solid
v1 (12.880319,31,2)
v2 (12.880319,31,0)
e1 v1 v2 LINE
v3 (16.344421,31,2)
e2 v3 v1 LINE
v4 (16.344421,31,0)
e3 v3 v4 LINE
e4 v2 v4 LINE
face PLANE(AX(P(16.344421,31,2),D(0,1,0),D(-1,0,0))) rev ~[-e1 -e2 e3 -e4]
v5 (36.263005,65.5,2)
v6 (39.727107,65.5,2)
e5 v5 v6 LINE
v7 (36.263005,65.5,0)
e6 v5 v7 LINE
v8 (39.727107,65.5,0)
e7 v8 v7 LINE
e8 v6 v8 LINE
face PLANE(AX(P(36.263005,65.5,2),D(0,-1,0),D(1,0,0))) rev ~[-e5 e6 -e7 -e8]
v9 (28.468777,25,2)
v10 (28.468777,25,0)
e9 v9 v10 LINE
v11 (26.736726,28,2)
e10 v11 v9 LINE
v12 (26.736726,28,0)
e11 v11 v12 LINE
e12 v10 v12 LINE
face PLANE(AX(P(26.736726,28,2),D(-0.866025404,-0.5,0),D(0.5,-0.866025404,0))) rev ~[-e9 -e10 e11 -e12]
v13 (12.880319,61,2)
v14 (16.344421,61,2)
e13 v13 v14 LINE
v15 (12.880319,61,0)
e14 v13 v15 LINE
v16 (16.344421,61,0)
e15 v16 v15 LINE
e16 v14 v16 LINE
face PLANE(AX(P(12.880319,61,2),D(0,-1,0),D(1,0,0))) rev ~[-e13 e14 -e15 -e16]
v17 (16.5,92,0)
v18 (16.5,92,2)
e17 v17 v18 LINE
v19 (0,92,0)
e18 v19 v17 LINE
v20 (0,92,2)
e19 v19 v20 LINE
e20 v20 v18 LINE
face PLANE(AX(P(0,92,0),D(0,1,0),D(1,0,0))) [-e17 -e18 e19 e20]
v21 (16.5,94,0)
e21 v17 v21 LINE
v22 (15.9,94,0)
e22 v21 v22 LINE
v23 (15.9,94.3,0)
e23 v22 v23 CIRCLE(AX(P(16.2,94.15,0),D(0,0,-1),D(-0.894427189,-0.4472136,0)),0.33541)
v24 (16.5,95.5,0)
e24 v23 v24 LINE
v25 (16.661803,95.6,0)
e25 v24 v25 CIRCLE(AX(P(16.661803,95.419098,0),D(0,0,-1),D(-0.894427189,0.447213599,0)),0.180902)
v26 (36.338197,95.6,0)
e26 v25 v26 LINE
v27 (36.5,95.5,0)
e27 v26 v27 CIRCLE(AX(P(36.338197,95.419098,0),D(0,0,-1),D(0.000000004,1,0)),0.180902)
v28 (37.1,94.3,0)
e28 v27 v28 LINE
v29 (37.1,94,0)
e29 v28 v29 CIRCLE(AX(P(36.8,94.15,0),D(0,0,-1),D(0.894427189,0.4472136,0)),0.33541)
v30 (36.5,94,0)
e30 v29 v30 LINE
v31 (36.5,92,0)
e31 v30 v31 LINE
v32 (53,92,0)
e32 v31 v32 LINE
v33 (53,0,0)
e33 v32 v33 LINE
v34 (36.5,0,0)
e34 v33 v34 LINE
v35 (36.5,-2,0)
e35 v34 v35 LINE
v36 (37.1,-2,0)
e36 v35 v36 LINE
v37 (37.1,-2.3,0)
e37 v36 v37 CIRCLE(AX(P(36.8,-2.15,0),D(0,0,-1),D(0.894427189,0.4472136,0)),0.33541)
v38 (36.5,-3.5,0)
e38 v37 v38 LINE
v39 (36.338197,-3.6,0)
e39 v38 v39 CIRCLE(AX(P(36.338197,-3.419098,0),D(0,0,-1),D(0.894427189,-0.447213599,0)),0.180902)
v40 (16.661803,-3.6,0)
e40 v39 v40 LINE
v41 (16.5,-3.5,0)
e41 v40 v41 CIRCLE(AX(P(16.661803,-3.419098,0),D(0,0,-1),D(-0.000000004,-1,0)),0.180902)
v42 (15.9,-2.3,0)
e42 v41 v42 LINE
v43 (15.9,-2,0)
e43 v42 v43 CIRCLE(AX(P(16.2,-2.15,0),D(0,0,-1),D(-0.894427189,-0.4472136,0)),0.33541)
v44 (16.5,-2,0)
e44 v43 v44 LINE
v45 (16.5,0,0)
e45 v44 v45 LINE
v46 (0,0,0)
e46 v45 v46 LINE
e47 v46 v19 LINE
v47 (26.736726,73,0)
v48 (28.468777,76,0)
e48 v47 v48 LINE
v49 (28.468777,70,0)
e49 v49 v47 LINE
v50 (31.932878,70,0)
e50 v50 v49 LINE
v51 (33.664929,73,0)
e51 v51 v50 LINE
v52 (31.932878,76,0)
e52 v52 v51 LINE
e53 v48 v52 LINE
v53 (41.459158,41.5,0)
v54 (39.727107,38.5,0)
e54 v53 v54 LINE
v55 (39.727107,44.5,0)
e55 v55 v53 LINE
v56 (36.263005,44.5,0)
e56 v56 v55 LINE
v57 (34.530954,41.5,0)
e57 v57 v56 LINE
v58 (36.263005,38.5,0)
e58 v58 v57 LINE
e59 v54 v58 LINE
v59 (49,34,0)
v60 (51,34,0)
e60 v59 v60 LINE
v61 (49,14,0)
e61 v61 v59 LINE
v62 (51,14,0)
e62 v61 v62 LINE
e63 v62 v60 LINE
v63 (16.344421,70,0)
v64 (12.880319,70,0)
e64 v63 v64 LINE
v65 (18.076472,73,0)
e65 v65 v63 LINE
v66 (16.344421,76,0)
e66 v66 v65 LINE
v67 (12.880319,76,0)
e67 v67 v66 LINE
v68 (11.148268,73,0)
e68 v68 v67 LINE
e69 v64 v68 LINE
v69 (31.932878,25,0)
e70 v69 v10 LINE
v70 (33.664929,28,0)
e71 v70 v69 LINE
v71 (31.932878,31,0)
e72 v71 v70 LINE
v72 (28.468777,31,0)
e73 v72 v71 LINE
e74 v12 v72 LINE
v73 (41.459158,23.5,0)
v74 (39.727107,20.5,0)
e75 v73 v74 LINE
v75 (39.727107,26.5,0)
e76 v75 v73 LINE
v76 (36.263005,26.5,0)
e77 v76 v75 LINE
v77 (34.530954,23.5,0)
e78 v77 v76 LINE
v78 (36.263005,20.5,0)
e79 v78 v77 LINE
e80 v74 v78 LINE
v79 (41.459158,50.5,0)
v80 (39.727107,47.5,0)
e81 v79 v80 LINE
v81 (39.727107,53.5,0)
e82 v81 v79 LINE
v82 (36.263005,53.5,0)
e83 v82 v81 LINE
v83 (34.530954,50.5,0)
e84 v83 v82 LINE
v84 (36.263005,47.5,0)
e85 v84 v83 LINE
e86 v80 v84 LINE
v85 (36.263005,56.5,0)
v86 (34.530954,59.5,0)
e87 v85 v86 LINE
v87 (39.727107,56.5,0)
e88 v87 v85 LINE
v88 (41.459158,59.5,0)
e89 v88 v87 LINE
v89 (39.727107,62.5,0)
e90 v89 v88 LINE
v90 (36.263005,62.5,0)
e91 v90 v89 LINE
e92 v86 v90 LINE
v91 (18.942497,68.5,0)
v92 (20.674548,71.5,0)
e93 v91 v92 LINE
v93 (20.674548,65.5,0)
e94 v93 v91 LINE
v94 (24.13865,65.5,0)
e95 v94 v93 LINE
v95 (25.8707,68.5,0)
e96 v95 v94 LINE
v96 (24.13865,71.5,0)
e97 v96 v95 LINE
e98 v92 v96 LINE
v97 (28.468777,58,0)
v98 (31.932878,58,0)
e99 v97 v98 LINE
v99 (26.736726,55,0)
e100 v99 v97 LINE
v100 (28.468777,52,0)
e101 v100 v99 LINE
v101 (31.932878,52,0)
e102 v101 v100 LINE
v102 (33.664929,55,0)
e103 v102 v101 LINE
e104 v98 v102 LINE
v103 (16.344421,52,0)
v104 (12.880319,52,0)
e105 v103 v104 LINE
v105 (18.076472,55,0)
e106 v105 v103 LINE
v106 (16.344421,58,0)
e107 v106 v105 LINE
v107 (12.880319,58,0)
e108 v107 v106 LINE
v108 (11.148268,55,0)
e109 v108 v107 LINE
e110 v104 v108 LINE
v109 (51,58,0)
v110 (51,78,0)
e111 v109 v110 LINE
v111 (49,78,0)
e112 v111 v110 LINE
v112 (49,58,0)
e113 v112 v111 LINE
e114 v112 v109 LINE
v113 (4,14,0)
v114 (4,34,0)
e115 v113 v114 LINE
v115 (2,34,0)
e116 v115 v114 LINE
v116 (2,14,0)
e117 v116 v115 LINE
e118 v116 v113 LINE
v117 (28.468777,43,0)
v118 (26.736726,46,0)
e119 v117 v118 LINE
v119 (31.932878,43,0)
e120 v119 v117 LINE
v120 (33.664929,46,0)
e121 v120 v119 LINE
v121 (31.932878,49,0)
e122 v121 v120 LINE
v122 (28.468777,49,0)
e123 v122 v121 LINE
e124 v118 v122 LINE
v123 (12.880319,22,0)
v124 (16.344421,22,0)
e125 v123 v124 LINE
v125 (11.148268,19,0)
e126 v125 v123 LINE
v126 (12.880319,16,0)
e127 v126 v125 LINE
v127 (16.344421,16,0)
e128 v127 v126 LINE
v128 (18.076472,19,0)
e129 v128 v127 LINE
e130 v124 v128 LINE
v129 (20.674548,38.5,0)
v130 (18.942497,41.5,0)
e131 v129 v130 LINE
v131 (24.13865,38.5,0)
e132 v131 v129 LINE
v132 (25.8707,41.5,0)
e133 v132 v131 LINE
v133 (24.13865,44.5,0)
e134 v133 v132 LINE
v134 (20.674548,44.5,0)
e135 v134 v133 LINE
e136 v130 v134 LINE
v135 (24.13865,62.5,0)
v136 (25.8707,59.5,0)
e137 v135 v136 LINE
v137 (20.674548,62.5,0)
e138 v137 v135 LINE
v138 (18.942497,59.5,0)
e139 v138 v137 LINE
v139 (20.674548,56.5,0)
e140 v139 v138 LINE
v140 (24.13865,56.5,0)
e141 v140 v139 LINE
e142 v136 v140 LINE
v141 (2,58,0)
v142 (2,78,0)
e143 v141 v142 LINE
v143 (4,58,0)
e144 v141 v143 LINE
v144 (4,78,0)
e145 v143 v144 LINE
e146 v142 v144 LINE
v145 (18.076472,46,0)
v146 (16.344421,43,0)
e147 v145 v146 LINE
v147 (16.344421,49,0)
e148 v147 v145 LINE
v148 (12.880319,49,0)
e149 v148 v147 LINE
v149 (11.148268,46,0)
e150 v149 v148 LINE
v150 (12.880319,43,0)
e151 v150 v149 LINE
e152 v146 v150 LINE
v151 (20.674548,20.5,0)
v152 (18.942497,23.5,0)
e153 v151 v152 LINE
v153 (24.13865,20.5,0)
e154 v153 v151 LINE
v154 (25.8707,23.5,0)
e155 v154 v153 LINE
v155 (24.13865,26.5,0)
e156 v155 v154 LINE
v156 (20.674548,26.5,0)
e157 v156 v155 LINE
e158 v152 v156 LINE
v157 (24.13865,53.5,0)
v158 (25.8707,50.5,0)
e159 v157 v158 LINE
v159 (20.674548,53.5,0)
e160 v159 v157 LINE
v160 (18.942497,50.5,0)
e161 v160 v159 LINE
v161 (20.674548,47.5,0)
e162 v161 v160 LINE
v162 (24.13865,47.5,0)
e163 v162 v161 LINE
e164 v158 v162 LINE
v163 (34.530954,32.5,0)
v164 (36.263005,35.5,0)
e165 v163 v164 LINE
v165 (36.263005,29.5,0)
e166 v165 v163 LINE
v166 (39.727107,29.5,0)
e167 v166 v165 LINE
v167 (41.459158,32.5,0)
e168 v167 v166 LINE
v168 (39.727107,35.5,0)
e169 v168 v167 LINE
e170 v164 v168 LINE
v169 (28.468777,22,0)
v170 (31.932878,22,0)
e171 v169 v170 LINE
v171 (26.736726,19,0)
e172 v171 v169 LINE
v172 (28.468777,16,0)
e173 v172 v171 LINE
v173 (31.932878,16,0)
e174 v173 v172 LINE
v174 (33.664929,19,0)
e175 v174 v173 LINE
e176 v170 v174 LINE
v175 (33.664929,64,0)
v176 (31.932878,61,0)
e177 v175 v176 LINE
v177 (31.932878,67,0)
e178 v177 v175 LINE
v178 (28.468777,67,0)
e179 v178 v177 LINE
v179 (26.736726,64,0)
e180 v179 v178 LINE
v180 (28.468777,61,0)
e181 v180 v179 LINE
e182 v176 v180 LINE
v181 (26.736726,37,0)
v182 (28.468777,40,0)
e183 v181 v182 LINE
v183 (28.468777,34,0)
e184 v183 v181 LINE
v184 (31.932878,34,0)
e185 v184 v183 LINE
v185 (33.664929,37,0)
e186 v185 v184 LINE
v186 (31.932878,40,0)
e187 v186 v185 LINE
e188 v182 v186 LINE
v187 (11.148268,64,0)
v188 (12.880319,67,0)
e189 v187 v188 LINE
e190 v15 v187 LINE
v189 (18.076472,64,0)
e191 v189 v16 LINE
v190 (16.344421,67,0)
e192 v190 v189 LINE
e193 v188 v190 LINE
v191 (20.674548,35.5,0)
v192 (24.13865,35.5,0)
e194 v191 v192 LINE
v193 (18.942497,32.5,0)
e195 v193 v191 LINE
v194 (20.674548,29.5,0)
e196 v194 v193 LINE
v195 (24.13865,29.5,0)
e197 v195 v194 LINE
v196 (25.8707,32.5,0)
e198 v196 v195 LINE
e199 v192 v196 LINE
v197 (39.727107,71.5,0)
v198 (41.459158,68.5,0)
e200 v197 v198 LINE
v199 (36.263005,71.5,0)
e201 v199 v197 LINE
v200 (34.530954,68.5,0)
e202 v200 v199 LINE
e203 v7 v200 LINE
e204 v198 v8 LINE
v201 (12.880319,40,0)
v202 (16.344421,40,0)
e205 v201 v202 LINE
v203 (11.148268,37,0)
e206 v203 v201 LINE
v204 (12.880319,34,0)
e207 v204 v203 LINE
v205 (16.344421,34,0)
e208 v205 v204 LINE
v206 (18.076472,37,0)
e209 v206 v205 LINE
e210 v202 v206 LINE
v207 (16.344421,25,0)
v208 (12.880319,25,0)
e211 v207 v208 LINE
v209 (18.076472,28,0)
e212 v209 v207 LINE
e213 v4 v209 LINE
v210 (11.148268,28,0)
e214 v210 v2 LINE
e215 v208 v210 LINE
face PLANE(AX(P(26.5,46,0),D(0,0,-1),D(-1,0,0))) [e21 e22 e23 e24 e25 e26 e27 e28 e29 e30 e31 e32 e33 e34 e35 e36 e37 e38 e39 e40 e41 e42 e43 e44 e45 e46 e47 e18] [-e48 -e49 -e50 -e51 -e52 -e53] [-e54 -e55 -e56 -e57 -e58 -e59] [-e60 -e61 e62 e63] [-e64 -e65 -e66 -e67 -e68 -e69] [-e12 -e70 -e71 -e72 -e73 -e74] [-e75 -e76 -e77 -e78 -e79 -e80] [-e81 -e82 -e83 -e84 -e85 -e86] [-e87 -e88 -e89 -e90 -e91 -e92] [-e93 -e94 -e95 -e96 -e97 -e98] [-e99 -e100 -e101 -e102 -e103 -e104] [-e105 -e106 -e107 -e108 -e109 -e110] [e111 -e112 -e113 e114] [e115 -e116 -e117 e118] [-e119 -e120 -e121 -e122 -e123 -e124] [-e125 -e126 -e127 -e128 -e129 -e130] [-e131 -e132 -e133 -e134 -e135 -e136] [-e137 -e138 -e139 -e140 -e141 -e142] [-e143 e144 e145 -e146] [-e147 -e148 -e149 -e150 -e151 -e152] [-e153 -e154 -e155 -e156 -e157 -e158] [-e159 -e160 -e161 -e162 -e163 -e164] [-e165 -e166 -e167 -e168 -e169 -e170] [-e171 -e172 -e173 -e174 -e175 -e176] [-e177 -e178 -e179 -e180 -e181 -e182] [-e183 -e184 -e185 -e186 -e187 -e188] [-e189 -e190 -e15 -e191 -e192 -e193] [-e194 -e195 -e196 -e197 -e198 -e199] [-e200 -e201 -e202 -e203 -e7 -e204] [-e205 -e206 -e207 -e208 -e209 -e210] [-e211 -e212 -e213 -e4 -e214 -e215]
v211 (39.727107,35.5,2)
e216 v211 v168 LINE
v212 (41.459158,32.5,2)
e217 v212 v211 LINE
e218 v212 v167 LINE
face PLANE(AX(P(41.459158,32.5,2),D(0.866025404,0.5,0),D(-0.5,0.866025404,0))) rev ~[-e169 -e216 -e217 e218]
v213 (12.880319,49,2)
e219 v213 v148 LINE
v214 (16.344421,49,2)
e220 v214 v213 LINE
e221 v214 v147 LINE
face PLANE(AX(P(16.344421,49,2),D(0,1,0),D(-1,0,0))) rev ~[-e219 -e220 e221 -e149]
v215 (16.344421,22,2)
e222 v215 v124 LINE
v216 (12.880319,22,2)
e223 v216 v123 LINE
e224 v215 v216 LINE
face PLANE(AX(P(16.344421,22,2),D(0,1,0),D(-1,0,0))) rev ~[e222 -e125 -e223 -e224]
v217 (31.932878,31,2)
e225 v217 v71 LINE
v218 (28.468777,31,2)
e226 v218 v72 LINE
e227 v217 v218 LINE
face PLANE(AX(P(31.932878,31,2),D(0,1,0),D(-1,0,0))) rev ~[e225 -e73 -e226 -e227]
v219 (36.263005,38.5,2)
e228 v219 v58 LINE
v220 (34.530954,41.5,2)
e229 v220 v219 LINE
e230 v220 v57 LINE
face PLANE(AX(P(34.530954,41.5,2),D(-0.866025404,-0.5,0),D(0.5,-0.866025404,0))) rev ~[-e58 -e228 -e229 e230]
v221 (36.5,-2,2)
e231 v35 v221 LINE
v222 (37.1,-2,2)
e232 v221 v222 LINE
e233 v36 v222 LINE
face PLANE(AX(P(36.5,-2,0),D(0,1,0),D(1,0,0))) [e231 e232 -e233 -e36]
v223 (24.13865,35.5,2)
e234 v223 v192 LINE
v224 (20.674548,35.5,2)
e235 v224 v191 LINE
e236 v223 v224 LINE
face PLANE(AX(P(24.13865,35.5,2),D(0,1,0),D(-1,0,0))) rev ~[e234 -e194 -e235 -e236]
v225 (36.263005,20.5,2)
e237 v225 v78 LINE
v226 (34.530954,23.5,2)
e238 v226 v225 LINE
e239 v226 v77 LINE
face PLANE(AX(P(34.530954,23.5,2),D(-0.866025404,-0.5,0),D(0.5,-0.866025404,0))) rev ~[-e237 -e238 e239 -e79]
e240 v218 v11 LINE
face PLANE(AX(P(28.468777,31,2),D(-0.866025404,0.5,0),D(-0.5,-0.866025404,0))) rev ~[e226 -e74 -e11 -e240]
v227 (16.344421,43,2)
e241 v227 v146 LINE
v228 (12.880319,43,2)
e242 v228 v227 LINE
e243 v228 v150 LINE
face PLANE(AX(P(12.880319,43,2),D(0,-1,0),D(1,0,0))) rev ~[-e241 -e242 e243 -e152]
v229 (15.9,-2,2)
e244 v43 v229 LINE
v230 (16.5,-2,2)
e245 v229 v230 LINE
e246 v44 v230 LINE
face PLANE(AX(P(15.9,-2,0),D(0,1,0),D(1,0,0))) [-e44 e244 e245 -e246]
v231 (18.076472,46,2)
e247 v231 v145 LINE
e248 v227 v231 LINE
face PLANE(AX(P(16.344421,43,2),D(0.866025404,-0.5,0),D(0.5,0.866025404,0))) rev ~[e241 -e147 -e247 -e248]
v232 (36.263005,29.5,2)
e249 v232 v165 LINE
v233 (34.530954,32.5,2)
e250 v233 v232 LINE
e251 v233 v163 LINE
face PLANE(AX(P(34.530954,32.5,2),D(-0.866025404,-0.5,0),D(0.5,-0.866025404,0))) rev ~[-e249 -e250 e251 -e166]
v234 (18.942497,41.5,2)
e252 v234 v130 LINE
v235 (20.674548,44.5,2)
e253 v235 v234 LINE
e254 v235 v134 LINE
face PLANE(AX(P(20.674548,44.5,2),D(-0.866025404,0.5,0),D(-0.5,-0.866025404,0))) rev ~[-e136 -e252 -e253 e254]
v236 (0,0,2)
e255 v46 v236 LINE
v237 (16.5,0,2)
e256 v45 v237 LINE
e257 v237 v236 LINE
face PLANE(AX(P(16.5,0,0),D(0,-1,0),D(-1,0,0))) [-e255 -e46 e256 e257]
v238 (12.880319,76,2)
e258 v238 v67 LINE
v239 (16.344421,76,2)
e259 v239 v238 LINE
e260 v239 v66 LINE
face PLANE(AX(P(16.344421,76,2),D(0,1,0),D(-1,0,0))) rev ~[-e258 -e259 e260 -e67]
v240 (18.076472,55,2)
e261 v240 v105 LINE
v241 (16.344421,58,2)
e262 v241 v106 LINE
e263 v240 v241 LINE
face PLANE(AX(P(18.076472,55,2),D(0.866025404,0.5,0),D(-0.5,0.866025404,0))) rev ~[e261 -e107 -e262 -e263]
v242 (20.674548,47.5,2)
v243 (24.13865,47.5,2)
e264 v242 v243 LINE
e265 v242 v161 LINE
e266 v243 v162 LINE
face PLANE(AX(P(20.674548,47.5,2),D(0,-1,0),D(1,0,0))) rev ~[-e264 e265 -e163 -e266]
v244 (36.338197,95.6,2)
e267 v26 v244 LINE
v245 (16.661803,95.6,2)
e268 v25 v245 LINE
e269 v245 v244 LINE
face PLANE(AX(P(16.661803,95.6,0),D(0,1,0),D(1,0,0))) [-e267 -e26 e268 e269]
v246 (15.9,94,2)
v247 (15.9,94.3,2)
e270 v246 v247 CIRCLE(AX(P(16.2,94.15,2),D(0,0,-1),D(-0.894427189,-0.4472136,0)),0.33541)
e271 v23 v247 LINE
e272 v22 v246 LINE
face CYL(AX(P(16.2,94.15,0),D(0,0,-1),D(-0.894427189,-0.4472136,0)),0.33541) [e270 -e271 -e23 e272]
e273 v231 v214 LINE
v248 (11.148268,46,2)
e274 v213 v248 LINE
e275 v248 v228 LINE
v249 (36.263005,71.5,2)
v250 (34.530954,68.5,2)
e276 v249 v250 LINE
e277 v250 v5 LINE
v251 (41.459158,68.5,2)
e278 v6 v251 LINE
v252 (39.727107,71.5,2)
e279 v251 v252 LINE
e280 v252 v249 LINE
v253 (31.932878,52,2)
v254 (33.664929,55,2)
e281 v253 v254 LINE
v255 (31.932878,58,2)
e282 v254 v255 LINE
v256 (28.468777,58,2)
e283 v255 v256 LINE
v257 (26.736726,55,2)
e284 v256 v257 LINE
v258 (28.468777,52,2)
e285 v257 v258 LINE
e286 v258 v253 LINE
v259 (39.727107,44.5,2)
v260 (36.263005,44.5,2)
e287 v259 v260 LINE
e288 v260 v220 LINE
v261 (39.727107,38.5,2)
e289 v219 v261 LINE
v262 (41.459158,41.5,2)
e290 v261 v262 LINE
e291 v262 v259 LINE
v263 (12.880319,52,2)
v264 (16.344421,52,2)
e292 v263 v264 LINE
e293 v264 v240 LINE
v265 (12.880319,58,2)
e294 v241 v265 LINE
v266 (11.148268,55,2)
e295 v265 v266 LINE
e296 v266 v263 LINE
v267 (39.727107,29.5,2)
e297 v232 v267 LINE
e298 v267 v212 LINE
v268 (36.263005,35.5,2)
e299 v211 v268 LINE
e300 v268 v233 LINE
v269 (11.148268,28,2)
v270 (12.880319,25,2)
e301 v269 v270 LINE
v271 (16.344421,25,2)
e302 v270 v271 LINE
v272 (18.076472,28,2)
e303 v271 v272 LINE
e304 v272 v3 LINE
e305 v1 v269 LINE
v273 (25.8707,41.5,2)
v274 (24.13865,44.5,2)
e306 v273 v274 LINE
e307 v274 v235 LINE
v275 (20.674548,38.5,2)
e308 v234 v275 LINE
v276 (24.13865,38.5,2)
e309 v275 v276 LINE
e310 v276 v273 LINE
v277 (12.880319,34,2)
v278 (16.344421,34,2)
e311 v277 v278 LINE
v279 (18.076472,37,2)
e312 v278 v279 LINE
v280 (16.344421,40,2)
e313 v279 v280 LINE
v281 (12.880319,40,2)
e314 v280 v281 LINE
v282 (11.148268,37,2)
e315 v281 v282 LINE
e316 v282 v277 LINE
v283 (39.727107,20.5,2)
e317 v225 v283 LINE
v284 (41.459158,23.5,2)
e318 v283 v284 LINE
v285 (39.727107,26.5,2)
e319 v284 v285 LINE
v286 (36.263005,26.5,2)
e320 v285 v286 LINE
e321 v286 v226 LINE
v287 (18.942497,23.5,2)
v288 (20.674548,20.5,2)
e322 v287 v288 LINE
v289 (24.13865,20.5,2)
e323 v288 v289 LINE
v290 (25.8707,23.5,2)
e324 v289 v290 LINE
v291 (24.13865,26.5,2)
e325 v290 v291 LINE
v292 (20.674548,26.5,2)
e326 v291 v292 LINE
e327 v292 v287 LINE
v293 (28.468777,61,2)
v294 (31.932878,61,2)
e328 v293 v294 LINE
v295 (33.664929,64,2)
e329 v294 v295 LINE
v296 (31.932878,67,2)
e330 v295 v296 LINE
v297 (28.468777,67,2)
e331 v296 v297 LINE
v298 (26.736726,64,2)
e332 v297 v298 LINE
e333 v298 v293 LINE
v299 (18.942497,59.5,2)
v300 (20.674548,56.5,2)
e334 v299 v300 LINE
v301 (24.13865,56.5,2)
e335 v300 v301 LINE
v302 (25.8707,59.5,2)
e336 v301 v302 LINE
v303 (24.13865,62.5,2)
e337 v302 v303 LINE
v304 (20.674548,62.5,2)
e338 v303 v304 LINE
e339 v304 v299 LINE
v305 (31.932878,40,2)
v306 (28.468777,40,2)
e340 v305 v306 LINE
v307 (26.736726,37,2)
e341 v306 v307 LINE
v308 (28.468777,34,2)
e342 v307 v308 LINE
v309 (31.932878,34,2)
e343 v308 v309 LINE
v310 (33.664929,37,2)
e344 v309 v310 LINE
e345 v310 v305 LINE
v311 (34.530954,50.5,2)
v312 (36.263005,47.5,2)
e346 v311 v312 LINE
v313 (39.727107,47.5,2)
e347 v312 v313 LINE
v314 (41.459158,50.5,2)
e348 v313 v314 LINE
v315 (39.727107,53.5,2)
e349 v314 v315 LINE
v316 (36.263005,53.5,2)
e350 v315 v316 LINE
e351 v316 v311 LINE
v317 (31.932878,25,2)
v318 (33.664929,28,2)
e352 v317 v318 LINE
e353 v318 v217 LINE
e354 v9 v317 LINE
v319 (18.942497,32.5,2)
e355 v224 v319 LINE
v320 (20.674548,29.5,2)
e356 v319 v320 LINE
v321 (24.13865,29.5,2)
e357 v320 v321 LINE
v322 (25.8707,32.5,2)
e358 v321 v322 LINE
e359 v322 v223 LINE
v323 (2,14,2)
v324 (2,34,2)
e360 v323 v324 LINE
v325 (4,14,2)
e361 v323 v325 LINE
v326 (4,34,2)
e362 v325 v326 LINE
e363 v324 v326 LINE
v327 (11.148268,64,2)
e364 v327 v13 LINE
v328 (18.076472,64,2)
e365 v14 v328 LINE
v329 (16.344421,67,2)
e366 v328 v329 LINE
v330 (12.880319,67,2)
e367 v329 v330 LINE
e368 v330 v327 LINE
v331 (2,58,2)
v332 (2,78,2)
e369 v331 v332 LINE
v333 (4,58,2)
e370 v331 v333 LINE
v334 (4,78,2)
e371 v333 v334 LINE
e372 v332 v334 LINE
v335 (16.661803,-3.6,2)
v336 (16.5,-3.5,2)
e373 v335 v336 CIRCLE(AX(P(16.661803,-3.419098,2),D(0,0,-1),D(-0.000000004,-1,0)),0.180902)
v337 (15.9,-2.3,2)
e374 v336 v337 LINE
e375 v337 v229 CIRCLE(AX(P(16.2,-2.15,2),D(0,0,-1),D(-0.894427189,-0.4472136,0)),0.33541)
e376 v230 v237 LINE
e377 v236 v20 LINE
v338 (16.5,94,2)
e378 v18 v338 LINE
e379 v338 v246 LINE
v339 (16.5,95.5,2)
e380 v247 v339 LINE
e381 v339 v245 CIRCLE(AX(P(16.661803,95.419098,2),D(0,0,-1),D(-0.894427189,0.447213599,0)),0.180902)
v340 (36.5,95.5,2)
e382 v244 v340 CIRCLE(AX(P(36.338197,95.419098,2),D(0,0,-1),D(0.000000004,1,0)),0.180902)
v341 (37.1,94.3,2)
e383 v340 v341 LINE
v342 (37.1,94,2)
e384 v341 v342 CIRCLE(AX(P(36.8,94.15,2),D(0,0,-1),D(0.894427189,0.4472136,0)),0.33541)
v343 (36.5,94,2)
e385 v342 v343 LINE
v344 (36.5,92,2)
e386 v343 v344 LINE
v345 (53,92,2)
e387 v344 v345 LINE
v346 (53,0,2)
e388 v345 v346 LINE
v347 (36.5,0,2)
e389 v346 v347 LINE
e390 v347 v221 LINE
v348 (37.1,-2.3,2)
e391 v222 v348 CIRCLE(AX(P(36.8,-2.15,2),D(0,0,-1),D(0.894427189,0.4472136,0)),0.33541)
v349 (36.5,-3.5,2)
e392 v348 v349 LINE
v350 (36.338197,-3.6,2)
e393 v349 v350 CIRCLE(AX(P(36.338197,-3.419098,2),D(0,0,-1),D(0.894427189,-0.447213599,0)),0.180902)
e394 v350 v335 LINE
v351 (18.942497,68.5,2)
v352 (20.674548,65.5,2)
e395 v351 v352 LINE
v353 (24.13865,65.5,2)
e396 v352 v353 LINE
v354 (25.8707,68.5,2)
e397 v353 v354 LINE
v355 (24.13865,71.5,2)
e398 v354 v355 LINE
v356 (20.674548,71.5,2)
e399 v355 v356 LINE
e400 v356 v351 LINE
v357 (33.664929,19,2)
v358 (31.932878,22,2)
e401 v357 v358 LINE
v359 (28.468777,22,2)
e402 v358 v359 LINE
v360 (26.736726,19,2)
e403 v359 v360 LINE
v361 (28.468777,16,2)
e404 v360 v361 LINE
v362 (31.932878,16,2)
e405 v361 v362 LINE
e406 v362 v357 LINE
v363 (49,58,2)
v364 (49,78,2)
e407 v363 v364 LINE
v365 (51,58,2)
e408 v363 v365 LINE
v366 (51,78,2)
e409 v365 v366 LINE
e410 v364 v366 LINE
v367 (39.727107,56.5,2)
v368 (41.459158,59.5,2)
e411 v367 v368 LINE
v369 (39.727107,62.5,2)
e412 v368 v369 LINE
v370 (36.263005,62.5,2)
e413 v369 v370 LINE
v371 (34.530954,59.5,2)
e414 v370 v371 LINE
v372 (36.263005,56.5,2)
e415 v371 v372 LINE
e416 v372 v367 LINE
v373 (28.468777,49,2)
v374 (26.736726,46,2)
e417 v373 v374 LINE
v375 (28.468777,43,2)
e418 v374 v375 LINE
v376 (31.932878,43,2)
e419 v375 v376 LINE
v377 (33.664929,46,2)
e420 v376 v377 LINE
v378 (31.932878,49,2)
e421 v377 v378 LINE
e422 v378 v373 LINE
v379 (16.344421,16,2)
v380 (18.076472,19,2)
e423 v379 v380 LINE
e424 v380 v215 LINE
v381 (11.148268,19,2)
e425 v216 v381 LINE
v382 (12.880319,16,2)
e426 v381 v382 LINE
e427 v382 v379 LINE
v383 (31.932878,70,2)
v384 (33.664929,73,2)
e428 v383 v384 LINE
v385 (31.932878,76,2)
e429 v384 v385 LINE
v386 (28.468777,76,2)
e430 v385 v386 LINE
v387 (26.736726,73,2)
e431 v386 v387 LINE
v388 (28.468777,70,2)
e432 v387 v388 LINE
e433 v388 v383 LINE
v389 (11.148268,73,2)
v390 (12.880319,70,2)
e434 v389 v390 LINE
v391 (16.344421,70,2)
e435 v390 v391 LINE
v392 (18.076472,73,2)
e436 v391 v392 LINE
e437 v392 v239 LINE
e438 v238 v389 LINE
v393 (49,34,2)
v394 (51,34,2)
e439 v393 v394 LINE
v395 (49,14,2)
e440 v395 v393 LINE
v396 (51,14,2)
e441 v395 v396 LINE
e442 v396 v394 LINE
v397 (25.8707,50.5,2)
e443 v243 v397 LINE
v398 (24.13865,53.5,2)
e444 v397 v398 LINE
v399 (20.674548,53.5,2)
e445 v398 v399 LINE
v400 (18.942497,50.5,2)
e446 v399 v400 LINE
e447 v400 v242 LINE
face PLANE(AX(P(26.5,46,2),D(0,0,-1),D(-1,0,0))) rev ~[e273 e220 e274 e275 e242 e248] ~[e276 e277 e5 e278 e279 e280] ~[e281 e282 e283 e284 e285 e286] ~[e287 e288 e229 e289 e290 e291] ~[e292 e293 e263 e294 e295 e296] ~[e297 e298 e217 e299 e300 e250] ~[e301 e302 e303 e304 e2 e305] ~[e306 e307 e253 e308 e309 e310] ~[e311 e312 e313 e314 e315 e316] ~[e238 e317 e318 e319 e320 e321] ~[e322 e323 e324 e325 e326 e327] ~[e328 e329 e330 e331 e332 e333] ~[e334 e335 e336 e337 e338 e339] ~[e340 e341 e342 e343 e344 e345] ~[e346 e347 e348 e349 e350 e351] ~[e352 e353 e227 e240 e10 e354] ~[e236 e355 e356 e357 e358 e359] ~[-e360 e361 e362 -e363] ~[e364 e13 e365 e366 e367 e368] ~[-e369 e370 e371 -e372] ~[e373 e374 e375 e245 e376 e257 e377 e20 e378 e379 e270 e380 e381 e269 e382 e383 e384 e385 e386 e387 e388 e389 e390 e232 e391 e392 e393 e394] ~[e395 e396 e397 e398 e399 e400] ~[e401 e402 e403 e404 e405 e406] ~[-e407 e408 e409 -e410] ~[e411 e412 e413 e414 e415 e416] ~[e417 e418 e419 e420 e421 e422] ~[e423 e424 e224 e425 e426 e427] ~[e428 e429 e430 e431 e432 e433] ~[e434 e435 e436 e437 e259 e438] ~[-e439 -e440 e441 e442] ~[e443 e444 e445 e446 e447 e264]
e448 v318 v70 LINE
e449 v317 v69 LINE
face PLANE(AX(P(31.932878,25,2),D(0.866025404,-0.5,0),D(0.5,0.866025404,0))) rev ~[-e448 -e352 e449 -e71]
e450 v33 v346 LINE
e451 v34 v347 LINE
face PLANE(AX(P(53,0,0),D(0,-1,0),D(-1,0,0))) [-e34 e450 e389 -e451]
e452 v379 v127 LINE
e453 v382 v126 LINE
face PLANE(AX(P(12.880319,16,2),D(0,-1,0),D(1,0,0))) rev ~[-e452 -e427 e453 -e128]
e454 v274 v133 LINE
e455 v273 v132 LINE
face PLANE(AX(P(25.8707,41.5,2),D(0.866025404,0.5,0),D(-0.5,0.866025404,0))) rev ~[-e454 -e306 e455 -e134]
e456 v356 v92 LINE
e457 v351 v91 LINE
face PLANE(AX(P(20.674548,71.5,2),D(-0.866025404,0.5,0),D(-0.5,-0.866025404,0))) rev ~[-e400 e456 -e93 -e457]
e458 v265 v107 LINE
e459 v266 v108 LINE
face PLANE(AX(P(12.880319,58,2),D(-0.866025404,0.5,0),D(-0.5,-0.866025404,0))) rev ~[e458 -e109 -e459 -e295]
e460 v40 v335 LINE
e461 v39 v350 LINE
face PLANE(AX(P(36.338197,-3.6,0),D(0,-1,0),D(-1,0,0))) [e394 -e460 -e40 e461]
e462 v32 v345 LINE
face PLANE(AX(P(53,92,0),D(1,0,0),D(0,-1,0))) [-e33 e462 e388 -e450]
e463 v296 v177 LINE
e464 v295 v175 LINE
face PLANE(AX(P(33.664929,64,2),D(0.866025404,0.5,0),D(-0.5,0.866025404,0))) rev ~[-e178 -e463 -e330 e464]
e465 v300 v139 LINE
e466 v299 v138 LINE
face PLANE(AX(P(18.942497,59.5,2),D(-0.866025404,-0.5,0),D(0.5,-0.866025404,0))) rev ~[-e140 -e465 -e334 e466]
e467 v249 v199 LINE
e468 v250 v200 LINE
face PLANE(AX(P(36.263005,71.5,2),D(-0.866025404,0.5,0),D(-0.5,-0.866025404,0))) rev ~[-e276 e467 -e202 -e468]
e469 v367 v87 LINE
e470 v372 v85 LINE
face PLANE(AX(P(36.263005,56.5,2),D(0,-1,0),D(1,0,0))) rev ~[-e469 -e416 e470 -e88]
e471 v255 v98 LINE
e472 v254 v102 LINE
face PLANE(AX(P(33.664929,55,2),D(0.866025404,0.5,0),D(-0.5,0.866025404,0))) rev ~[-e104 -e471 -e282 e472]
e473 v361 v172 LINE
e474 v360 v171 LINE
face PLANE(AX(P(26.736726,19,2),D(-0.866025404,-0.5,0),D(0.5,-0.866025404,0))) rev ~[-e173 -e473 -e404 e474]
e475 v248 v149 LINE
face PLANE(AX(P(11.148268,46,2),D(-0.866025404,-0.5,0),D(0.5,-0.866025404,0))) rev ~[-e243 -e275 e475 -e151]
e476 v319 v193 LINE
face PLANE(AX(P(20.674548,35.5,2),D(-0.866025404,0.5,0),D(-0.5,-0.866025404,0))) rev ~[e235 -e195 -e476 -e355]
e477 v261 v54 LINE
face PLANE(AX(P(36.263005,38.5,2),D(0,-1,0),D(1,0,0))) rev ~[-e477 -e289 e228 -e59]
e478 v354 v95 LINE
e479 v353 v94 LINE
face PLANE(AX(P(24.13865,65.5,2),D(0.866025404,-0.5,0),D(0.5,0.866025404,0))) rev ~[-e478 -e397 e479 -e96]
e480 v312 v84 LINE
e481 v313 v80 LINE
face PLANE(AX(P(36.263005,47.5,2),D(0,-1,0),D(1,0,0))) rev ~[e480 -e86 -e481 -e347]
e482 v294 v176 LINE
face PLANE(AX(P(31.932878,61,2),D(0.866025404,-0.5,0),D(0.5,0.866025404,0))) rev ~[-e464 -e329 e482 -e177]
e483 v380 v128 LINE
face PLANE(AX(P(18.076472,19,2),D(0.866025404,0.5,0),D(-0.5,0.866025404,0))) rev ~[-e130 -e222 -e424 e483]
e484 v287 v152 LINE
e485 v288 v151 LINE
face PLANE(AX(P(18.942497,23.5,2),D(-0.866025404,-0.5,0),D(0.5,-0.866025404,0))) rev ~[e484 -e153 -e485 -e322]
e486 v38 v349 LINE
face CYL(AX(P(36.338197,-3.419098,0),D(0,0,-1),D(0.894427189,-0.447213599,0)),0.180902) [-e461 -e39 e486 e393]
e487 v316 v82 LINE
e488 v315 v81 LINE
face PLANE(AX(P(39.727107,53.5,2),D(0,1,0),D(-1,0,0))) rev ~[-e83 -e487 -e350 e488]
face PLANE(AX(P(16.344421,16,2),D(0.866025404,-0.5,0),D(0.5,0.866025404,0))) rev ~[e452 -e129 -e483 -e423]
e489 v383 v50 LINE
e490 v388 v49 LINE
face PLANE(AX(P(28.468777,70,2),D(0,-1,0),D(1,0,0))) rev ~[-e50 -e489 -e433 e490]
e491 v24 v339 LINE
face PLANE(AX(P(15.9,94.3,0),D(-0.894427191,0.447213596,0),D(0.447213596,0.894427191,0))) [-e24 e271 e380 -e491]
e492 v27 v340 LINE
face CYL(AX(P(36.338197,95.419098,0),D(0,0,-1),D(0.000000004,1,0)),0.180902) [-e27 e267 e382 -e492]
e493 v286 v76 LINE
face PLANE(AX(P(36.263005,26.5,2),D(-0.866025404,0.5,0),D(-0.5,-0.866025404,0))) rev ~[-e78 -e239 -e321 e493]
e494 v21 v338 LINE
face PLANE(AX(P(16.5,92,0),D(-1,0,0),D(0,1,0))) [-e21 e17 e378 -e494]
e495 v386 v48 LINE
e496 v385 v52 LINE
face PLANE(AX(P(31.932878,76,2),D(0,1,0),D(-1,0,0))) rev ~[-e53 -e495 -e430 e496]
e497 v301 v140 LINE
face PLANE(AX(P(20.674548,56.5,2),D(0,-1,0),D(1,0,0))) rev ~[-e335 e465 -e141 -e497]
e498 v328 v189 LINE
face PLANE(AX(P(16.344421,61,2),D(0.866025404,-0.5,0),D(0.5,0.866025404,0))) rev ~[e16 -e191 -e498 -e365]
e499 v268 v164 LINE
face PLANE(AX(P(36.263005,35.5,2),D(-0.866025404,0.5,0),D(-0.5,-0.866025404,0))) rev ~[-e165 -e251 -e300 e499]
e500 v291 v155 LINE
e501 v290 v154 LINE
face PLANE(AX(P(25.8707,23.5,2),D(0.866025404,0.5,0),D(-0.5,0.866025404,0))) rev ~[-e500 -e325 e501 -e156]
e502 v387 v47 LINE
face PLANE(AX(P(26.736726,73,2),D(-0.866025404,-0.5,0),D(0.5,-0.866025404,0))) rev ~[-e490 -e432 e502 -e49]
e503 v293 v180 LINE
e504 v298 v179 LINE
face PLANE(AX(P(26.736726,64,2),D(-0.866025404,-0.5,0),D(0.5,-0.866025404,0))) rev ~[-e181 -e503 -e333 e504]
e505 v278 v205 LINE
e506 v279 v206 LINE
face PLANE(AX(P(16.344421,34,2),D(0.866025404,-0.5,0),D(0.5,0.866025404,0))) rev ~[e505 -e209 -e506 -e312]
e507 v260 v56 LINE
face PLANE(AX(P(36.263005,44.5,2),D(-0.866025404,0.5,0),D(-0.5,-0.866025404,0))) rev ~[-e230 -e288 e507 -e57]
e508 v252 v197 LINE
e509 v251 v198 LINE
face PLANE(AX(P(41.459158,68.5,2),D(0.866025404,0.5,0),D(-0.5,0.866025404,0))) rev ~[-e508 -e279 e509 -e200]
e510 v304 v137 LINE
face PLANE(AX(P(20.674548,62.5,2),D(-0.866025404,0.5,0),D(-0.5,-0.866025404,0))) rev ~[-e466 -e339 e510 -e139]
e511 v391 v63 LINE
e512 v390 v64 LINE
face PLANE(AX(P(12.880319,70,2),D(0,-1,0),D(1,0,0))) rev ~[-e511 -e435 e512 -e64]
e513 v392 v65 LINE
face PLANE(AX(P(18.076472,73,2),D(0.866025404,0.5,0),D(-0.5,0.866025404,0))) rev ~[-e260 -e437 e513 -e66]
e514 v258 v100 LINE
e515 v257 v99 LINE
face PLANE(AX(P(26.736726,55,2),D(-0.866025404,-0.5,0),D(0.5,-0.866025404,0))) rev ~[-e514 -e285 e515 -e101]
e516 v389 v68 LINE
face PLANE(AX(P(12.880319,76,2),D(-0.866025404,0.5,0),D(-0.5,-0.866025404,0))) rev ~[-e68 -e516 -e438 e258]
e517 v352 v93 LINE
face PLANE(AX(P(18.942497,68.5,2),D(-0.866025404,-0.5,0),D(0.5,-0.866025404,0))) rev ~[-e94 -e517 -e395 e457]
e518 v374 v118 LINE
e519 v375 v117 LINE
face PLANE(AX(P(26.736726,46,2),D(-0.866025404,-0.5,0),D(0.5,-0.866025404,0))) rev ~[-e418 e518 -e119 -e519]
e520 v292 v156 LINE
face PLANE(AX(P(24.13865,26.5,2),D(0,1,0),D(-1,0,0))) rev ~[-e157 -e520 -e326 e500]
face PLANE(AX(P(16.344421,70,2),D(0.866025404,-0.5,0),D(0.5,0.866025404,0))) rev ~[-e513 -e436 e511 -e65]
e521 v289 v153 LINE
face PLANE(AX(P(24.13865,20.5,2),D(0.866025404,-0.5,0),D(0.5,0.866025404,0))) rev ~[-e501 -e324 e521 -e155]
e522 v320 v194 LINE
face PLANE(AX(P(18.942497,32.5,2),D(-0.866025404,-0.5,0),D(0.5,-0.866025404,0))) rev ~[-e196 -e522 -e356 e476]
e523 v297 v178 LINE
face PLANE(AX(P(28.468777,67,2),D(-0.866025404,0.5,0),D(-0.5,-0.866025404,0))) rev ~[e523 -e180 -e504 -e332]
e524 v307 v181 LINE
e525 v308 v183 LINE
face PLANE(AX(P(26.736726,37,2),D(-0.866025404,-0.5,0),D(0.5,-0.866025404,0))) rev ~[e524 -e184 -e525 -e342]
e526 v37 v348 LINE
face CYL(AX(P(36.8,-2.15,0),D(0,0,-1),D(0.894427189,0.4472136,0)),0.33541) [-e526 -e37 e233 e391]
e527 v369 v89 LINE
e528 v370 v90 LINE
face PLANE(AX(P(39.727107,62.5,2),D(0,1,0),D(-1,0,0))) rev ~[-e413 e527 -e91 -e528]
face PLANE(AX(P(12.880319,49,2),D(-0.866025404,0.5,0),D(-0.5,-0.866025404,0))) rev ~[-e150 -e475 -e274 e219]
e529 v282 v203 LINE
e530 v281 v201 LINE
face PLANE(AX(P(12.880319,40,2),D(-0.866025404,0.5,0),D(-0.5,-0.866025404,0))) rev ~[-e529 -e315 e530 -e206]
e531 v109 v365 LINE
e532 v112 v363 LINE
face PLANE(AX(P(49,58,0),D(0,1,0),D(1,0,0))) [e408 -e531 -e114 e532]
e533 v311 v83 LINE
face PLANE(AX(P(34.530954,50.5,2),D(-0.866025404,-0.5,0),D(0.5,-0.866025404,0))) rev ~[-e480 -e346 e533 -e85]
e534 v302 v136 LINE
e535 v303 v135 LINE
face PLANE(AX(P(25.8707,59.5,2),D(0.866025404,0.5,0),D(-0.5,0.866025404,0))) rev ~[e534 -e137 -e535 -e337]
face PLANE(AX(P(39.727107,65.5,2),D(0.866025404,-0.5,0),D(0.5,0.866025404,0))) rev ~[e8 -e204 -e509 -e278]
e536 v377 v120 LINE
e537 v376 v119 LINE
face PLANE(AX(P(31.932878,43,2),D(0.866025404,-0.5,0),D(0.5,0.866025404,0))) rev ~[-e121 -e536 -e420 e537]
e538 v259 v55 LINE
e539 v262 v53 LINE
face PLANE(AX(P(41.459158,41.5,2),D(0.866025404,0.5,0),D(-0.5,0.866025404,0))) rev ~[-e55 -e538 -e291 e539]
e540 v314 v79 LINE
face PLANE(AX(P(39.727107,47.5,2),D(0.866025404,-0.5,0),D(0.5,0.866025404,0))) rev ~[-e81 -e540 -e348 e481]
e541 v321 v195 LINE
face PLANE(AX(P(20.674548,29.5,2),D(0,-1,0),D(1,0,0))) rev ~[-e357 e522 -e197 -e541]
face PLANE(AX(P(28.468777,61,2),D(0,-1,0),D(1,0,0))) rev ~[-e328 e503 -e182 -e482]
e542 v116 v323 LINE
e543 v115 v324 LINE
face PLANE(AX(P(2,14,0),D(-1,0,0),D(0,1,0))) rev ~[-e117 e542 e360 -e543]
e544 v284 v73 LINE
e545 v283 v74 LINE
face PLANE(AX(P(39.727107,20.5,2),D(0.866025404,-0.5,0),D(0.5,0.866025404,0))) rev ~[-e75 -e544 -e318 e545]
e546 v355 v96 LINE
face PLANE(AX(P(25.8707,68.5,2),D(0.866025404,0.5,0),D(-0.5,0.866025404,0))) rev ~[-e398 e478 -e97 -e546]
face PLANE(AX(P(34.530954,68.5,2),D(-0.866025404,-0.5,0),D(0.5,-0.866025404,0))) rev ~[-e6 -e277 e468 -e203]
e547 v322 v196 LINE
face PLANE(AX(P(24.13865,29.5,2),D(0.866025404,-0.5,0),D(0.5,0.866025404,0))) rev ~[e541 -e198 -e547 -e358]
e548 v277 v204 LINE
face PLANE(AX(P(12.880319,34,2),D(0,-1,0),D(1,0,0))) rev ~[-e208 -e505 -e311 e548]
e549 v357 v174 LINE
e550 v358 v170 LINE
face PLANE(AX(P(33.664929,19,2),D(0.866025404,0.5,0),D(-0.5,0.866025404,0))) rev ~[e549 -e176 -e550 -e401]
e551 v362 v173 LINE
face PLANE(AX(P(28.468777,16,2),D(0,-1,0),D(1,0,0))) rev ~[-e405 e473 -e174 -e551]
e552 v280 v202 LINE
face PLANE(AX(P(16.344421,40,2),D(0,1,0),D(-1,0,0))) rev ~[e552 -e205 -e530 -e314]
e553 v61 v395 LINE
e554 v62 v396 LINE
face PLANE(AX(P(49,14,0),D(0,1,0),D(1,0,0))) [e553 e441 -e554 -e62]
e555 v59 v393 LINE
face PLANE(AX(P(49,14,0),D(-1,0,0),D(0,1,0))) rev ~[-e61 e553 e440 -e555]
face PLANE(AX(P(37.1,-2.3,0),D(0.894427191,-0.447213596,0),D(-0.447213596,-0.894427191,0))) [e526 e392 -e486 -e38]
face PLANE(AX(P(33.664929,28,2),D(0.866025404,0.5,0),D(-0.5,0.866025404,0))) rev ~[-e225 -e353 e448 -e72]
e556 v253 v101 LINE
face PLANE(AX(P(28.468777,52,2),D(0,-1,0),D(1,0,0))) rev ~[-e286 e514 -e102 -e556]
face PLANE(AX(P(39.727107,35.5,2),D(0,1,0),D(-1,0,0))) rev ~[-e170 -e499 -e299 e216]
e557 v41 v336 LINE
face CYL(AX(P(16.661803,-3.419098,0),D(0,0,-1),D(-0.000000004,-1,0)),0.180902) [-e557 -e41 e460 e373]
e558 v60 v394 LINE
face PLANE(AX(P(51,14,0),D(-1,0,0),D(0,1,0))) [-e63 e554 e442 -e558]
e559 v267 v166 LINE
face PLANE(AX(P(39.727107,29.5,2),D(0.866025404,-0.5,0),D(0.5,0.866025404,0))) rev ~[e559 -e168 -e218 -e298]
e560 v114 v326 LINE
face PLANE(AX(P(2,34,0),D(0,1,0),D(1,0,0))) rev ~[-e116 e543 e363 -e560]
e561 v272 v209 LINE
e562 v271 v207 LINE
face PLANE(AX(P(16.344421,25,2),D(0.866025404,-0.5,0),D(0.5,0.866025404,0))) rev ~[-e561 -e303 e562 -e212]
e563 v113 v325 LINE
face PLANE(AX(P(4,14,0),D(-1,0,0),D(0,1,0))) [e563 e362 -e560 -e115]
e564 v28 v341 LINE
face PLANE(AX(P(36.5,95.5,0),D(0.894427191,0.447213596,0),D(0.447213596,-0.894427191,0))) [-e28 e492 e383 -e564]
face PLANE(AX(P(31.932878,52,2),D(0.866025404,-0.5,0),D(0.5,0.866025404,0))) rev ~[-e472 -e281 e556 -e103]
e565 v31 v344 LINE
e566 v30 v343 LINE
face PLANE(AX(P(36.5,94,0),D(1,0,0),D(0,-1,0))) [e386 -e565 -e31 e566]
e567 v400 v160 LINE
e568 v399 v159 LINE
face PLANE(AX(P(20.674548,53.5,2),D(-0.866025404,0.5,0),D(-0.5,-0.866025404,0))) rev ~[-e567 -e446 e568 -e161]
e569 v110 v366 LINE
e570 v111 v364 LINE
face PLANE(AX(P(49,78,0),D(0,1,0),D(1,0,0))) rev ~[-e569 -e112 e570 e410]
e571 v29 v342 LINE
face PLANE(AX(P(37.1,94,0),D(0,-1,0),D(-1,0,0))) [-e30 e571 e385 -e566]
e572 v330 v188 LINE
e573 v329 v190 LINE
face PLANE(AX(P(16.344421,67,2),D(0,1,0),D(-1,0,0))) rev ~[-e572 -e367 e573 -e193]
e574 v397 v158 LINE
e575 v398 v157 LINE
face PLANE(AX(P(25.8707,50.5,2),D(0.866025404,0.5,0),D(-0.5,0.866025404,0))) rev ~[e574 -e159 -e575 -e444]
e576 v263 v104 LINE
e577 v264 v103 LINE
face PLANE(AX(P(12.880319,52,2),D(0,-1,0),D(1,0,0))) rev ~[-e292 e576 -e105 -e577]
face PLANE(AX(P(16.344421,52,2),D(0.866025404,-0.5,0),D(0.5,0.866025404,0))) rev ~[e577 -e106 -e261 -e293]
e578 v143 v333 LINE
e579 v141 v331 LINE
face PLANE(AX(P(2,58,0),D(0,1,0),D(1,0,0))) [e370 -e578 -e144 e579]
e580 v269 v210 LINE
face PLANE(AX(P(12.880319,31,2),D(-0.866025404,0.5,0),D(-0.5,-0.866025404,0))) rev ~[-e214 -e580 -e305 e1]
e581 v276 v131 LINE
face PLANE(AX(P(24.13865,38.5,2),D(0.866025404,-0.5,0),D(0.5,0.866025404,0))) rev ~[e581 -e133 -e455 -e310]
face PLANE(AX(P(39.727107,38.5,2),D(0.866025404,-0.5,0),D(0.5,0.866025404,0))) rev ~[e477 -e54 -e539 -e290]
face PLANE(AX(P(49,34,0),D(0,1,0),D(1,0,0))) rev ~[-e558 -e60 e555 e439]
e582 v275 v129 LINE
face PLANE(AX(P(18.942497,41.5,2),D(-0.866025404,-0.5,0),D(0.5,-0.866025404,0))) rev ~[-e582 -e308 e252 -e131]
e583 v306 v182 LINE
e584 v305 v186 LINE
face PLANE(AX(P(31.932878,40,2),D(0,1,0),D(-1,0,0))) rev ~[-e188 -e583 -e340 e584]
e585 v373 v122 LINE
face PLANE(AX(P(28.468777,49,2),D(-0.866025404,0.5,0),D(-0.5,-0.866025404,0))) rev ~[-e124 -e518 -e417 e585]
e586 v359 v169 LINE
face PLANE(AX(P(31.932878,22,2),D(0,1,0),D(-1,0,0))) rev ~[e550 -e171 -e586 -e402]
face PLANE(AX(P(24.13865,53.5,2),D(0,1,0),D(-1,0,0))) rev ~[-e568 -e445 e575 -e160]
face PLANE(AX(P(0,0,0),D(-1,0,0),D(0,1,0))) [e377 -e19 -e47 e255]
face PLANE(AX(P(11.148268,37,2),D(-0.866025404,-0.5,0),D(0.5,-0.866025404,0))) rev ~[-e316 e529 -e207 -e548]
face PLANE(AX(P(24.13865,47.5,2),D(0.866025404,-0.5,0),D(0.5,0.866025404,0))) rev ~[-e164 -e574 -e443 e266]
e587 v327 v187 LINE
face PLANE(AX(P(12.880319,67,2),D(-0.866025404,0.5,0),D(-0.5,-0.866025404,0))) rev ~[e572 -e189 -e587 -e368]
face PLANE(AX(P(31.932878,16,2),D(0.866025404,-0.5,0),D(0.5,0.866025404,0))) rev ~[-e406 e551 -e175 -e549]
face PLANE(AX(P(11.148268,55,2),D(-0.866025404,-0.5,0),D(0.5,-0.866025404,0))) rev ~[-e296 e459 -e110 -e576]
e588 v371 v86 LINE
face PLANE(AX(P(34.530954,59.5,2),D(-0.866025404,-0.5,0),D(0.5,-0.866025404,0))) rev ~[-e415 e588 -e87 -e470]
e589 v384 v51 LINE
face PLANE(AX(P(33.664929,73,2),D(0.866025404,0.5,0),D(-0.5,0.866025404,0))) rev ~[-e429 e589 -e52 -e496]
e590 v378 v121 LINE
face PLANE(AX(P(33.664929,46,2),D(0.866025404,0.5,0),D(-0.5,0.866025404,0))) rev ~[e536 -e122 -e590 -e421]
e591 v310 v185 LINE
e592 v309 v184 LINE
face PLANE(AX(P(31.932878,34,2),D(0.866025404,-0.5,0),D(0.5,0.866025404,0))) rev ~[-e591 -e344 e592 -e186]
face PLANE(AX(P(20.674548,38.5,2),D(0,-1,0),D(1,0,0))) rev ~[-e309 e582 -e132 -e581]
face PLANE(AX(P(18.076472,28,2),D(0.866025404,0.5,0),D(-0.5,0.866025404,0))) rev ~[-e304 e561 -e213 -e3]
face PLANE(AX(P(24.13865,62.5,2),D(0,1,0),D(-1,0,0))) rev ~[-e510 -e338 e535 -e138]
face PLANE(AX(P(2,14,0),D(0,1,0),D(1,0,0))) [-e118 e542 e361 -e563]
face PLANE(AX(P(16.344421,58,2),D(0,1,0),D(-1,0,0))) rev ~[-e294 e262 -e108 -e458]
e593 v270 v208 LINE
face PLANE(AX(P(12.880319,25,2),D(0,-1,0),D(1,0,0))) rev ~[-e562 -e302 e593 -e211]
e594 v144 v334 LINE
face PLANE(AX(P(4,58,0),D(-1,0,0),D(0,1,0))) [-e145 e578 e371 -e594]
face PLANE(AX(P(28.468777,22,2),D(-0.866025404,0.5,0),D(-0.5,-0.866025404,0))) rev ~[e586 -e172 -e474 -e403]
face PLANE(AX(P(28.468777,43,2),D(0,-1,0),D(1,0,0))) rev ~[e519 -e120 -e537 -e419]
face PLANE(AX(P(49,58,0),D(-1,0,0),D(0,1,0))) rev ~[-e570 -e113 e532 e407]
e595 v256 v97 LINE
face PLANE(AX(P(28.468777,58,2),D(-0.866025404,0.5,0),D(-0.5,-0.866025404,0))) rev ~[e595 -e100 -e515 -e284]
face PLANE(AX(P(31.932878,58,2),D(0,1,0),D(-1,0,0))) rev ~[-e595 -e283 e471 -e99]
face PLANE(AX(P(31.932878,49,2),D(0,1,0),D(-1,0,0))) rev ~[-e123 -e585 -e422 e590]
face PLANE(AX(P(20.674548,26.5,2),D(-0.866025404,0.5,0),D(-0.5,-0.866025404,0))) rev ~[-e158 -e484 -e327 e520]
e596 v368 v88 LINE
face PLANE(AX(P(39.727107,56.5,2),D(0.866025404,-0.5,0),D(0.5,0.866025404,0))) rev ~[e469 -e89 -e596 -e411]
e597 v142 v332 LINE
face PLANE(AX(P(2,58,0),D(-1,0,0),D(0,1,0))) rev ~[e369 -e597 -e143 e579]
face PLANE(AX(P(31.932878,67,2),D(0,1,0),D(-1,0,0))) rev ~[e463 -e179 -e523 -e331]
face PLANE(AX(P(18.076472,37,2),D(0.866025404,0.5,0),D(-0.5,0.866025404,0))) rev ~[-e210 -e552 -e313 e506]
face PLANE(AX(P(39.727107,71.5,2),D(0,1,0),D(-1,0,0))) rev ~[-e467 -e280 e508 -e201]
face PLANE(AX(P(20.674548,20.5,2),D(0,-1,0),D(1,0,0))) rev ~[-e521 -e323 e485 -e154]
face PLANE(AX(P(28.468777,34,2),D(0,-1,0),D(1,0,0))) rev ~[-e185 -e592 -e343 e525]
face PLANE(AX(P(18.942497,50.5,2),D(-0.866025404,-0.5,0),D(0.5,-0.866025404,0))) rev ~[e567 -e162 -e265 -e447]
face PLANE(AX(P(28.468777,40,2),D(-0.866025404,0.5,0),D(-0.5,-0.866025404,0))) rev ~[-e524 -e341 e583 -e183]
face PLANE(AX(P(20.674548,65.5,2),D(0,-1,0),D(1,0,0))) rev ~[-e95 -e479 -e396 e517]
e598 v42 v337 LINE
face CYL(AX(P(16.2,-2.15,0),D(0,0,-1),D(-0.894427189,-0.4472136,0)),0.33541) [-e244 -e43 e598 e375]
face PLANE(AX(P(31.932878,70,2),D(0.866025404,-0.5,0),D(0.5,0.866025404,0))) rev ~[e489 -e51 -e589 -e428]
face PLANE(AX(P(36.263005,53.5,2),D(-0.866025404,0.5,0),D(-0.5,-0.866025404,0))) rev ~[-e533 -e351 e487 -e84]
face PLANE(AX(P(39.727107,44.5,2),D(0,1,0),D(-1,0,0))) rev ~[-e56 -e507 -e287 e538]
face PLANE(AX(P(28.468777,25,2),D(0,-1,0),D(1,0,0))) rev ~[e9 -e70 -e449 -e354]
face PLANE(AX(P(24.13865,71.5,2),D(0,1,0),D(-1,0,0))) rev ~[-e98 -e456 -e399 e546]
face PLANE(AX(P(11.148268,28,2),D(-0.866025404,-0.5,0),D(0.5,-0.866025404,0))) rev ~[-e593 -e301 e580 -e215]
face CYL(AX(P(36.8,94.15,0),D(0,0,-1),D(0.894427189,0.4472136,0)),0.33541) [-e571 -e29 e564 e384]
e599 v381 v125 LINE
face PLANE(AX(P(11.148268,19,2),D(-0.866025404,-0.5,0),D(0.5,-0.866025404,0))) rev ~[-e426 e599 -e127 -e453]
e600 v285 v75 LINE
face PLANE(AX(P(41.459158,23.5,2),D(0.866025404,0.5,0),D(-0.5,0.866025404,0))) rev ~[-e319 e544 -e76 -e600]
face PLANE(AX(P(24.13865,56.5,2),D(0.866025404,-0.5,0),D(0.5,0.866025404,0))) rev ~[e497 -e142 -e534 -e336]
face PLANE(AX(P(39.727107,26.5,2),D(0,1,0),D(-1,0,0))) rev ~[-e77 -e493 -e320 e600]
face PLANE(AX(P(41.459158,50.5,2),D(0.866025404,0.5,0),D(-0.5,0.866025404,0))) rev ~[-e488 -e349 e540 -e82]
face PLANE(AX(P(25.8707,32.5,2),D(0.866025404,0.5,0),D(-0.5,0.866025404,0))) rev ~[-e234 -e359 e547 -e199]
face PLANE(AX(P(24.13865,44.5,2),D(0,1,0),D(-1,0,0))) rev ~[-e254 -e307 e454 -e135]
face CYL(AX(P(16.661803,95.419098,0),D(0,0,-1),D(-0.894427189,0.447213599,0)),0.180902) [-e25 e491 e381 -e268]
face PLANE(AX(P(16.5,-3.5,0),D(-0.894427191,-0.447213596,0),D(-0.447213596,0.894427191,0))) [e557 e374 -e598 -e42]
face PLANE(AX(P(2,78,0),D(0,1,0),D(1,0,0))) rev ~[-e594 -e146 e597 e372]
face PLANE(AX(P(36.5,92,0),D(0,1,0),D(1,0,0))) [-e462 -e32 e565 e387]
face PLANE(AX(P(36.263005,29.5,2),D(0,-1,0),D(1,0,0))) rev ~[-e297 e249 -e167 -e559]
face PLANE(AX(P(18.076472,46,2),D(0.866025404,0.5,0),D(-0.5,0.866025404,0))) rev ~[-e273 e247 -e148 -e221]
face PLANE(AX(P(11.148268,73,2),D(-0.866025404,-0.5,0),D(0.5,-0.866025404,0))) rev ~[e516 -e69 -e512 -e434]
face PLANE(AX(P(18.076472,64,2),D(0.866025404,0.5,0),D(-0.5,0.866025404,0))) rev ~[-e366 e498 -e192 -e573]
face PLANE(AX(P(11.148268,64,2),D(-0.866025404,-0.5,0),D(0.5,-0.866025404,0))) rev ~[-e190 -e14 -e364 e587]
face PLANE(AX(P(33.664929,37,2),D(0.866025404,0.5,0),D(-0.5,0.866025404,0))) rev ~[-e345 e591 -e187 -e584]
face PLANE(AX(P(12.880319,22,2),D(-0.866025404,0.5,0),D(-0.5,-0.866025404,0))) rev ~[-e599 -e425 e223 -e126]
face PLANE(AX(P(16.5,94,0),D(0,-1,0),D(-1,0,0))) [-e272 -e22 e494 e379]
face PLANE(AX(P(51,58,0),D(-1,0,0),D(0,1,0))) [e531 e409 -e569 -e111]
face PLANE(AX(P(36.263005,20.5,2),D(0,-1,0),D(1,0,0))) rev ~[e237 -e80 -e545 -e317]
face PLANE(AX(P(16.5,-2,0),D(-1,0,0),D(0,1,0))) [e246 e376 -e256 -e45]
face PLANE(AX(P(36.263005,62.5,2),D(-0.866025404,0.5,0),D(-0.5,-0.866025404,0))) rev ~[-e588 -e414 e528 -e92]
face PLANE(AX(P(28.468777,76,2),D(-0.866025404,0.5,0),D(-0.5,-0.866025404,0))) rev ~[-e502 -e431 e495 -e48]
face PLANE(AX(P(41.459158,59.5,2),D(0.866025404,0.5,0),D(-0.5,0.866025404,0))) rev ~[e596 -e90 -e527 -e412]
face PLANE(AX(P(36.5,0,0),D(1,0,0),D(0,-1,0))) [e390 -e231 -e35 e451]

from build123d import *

# Parameters (mm, degrees)
SKETCH1_W           = 2
SKETCH1_H           = 20
BOSS_EXTRUDE1_DEPTH = 2
CUT_EXTRUDE1_DEPTH  = 110.326849401


with BuildPart() as part:
    # Sketch1 → Boss-Extrude1 (new body)
    with BuildSketch(Plane.XY):
        with BuildLine():
            Line((16.5, 0), (0, 0))
            Line((0, 0), (0, 92))
            Line((0, 92), (16.5, 92))
            Line((16.5, 92), (16.5, 94))
            Line((16.5, 94), (15.9, 94))
            ThreePointArc((15.9, 94), (15.864589803, 94.15), (15.9, 94.3))
            Line((15.9, 94.3), (16.5, 95.5))
            ThreePointArc((16.5, 95.5), (16.566697747, 95.572982477), (16.661803399, 95.6))
            Line((16.661803399, 95.6), (36.338196601, 95.6))
            ThreePointArc((36.338196601, 95.6), (36.433302253, 95.572982477), (36.5, 95.5))
            Line((36.5, 95.5), (37.1, 94.3))
            ThreePointArc((37.1, 94.3), (37.135410197, 94.15), (37.1, 94))
            Line((37.1, 94), (36.5, 94))
            Line((36.5, 94), (36.5, 92))
            Line((36.5, 92), (53, 92))
            Line((53, 92), (53, 0))
            Line((53, 0), (36.5, 0))
            Line((36.5, 0), (36.5, -2))
            Line((36.5, -2), (37.1, -2))
            ThreePointArc((37.1, -2), (37.135410197, -2.15), (37.1, -2.3))
            Line((37.1, -2.3), (36.5, -3.5))
            ThreePointArc((36.5, -3.5), (36.433302253, -3.572982477), (36.338196601, -3.6))
            Line((36.338196601, -3.6), (16.661803399, -3.6))
            ThreePointArc((16.661803399, -3.6), (16.566697747, -3.572982477), (16.5, -3.5))
            Line((16.5, -3.5), (15.9, -2.3))
            ThreePointArc((15.9, -2.3), (15.864589803, -2.15), (15.9, -2))
            Line((15.9, -2), (16.5, -2))
            Line((16.5, -2), (16.5, 0))
        make_face()
        with Locations((3, 68)):
            Rectangle(SKETCH1_W, SKETCH1_H, mode=Mode.SUBTRACT)
        with Locations((50, 68)):
            Rectangle(SKETCH1_W, SKETCH1_H, mode=Mode.SUBTRACT)
        with Locations((50, 24)):
            Rectangle(SKETCH1_W, SKETCH1_H, mode=Mode.SUBTRACT)
        with Locations((3, 24)):
            Rectangle(SKETCH1_W, SKETCH1_H, mode=Mode.SUBTRACT)
    extrude(amount=BOSS_EXTRUDE1_DEPTH)

    # Sketch2 → Cut-Extrude1 (cut, through all)
    with BuildSketch(Plane.XY.offset(2)):
        Polygon((16.344420914, 16), (18.076471722, 19), (16.344420914, 22), (12.880319299, 22), (11.148268492, 19), (12.880319299, 16), align=None)
        Polygon((20.674547933, 26.5), (18.942497126, 23.5), (20.674547933, 20.5), (24.138649548, 20.5), (25.870700356, 23.5), (24.138649548, 26.5), align=None)
        Polygon((12.880319299, 25), (16.344420914, 25), (18.076471722, 28), (16.344420914, 31), (12.880319299, 31), (11.148268492, 28), align=None)
        Polygon((20.674547933, 35.5), (18.942497126, 32.5), (20.674547933, 29.5), (24.138649548, 29.5), (25.870700356, 32.5), (24.138649548, 35.5), align=None)
        Polygon((12.880319299, 40), (11.148268492, 37), (12.880319299, 34), (16.344420914, 34), (18.076471722, 37), (16.344420914, 40), align=None)
        Polygon((20.674547933, 44.5), (18.942497126, 41.5), (20.674547933, 38.5), (24.138649548, 38.5), (25.870700356, 41.5), (24.138649548, 44.5), align=None)
        Polygon((12.880319299, 49), (11.148268492, 46), (12.880319299, 43), (16.344420914, 43), (18.076471722, 46), (16.344420914, 49), align=None)
        Polygon((12.880319299, 52), (16.344420914, 52), (18.076471722, 55), (16.344420914, 58), (12.880319299, 58), (11.148268492, 55), align=None)
        Polygon((20.674547933, 62.5), (18.942497126, 59.5), (20.674547933, 56.5), (24.138649548, 56.5), (25.870700356, 59.5), (24.138649548, 62.5), align=None)
        Polygon((12.880319299, 67), (11.148268492, 64), (12.880319299, 61), (16.344420914, 61), (18.076471722, 64), (16.344420914, 67), align=None)
        Polygon((20.674547933, 71.5), (18.942497126, 68.5), (20.674547933, 65.5), (24.138649548, 65.5), (25.870700356, 68.5), (24.138649548, 71.5), align=None)
        Polygon((12.880319299, 76), (11.148268492, 73), (12.880319299, 70), (16.344420914, 70), (18.076471722, 73), (16.344420914, 76), align=None)
        Polygon((24.138649548, 47.5), (25.870700356, 50.5), (24.138649548, 53.5), (20.674547933, 53.5), (18.942497126, 50.5), (20.674547933, 47.5), align=None)
        Polygon((31.932878182, 16), (33.66492899, 19), (31.932878182, 22), (28.468776567, 22), (26.73672576, 19), (28.468776567, 16), align=None)
        Polygon((36.263005201, 26.5), (34.530954394, 23.5), (36.263005201, 20.5), (39.727106816, 20.5), (41.459157624, 23.5), (39.727106816, 26.5), align=None)
        Polygon((28.468776567, 25), (31.932878182, 25), (33.66492899, 28), (31.932878182, 31), (28.468776567, 31), (26.73672576, 28), align=None)
        Polygon((36.263005201, 35.5), (34.530954394, 32.5), (36.263005201, 29.5), (39.727106816, 29.5), (41.459157624, 32.5), (39.727106816, 35.5), align=None)
        Polygon((28.468776567, 40), (26.73672576, 37), (28.468776567, 34), (31.932878182, 34), (33.66492899, 37), (31.932878182, 40), align=None)
        Polygon((36.263005201, 44.5), (34.530954394, 41.5), (36.263005201, 38.5), (39.727106816, 38.5), (41.459157624, 41.5), (39.727106816, 44.5), align=None)
        Polygon((28.468776567, 49), (26.73672576, 46), (28.468776567, 43), (31.932878182, 43), (33.66492899, 46), (31.932878182, 49), align=None)
        Polygon((28.468776567, 52), (31.932878182, 52), (33.66492899, 55), (31.932878182, 58), (28.468776567, 58), (26.73672576, 55), align=None)
        Polygon((36.263005201, 62.5), (34.530954394, 59.5), (36.263005201, 56.5), (39.727106816, 56.5), (41.459157624, 59.5), (39.727106816, 62.5), align=None)
        Polygon((28.468776567, 67), (26.73672576, 64), (28.468776567, 61), (31.932878182, 61), (33.66492899, 64), (31.932878182, 67), align=None)
        Polygon((36.263005201, 71.5), (34.530954394, 68.5), (36.263005201, 65.5), (39.727106816, 65.5), (41.459157624, 68.5), (39.727106816, 71.5), align=None)
        Polygon((28.468776567, 76), (26.73672576, 73), (28.468776567, 70), (31.932878182, 70), (33.66492899, 73), (31.932878182, 76), align=None)
        Polygon((39.727106816, 47.5), (41.459157624, 50.5), (39.727106816, 53.5), (36.263005201, 53.5), (34.530954394, 50.5), (36.263005201, 47.5), align=None)
    extrude(amount=-CUT_EXTRUDE1_DEPTH, mode=Mode.SUBTRACT)


solid = part.part
